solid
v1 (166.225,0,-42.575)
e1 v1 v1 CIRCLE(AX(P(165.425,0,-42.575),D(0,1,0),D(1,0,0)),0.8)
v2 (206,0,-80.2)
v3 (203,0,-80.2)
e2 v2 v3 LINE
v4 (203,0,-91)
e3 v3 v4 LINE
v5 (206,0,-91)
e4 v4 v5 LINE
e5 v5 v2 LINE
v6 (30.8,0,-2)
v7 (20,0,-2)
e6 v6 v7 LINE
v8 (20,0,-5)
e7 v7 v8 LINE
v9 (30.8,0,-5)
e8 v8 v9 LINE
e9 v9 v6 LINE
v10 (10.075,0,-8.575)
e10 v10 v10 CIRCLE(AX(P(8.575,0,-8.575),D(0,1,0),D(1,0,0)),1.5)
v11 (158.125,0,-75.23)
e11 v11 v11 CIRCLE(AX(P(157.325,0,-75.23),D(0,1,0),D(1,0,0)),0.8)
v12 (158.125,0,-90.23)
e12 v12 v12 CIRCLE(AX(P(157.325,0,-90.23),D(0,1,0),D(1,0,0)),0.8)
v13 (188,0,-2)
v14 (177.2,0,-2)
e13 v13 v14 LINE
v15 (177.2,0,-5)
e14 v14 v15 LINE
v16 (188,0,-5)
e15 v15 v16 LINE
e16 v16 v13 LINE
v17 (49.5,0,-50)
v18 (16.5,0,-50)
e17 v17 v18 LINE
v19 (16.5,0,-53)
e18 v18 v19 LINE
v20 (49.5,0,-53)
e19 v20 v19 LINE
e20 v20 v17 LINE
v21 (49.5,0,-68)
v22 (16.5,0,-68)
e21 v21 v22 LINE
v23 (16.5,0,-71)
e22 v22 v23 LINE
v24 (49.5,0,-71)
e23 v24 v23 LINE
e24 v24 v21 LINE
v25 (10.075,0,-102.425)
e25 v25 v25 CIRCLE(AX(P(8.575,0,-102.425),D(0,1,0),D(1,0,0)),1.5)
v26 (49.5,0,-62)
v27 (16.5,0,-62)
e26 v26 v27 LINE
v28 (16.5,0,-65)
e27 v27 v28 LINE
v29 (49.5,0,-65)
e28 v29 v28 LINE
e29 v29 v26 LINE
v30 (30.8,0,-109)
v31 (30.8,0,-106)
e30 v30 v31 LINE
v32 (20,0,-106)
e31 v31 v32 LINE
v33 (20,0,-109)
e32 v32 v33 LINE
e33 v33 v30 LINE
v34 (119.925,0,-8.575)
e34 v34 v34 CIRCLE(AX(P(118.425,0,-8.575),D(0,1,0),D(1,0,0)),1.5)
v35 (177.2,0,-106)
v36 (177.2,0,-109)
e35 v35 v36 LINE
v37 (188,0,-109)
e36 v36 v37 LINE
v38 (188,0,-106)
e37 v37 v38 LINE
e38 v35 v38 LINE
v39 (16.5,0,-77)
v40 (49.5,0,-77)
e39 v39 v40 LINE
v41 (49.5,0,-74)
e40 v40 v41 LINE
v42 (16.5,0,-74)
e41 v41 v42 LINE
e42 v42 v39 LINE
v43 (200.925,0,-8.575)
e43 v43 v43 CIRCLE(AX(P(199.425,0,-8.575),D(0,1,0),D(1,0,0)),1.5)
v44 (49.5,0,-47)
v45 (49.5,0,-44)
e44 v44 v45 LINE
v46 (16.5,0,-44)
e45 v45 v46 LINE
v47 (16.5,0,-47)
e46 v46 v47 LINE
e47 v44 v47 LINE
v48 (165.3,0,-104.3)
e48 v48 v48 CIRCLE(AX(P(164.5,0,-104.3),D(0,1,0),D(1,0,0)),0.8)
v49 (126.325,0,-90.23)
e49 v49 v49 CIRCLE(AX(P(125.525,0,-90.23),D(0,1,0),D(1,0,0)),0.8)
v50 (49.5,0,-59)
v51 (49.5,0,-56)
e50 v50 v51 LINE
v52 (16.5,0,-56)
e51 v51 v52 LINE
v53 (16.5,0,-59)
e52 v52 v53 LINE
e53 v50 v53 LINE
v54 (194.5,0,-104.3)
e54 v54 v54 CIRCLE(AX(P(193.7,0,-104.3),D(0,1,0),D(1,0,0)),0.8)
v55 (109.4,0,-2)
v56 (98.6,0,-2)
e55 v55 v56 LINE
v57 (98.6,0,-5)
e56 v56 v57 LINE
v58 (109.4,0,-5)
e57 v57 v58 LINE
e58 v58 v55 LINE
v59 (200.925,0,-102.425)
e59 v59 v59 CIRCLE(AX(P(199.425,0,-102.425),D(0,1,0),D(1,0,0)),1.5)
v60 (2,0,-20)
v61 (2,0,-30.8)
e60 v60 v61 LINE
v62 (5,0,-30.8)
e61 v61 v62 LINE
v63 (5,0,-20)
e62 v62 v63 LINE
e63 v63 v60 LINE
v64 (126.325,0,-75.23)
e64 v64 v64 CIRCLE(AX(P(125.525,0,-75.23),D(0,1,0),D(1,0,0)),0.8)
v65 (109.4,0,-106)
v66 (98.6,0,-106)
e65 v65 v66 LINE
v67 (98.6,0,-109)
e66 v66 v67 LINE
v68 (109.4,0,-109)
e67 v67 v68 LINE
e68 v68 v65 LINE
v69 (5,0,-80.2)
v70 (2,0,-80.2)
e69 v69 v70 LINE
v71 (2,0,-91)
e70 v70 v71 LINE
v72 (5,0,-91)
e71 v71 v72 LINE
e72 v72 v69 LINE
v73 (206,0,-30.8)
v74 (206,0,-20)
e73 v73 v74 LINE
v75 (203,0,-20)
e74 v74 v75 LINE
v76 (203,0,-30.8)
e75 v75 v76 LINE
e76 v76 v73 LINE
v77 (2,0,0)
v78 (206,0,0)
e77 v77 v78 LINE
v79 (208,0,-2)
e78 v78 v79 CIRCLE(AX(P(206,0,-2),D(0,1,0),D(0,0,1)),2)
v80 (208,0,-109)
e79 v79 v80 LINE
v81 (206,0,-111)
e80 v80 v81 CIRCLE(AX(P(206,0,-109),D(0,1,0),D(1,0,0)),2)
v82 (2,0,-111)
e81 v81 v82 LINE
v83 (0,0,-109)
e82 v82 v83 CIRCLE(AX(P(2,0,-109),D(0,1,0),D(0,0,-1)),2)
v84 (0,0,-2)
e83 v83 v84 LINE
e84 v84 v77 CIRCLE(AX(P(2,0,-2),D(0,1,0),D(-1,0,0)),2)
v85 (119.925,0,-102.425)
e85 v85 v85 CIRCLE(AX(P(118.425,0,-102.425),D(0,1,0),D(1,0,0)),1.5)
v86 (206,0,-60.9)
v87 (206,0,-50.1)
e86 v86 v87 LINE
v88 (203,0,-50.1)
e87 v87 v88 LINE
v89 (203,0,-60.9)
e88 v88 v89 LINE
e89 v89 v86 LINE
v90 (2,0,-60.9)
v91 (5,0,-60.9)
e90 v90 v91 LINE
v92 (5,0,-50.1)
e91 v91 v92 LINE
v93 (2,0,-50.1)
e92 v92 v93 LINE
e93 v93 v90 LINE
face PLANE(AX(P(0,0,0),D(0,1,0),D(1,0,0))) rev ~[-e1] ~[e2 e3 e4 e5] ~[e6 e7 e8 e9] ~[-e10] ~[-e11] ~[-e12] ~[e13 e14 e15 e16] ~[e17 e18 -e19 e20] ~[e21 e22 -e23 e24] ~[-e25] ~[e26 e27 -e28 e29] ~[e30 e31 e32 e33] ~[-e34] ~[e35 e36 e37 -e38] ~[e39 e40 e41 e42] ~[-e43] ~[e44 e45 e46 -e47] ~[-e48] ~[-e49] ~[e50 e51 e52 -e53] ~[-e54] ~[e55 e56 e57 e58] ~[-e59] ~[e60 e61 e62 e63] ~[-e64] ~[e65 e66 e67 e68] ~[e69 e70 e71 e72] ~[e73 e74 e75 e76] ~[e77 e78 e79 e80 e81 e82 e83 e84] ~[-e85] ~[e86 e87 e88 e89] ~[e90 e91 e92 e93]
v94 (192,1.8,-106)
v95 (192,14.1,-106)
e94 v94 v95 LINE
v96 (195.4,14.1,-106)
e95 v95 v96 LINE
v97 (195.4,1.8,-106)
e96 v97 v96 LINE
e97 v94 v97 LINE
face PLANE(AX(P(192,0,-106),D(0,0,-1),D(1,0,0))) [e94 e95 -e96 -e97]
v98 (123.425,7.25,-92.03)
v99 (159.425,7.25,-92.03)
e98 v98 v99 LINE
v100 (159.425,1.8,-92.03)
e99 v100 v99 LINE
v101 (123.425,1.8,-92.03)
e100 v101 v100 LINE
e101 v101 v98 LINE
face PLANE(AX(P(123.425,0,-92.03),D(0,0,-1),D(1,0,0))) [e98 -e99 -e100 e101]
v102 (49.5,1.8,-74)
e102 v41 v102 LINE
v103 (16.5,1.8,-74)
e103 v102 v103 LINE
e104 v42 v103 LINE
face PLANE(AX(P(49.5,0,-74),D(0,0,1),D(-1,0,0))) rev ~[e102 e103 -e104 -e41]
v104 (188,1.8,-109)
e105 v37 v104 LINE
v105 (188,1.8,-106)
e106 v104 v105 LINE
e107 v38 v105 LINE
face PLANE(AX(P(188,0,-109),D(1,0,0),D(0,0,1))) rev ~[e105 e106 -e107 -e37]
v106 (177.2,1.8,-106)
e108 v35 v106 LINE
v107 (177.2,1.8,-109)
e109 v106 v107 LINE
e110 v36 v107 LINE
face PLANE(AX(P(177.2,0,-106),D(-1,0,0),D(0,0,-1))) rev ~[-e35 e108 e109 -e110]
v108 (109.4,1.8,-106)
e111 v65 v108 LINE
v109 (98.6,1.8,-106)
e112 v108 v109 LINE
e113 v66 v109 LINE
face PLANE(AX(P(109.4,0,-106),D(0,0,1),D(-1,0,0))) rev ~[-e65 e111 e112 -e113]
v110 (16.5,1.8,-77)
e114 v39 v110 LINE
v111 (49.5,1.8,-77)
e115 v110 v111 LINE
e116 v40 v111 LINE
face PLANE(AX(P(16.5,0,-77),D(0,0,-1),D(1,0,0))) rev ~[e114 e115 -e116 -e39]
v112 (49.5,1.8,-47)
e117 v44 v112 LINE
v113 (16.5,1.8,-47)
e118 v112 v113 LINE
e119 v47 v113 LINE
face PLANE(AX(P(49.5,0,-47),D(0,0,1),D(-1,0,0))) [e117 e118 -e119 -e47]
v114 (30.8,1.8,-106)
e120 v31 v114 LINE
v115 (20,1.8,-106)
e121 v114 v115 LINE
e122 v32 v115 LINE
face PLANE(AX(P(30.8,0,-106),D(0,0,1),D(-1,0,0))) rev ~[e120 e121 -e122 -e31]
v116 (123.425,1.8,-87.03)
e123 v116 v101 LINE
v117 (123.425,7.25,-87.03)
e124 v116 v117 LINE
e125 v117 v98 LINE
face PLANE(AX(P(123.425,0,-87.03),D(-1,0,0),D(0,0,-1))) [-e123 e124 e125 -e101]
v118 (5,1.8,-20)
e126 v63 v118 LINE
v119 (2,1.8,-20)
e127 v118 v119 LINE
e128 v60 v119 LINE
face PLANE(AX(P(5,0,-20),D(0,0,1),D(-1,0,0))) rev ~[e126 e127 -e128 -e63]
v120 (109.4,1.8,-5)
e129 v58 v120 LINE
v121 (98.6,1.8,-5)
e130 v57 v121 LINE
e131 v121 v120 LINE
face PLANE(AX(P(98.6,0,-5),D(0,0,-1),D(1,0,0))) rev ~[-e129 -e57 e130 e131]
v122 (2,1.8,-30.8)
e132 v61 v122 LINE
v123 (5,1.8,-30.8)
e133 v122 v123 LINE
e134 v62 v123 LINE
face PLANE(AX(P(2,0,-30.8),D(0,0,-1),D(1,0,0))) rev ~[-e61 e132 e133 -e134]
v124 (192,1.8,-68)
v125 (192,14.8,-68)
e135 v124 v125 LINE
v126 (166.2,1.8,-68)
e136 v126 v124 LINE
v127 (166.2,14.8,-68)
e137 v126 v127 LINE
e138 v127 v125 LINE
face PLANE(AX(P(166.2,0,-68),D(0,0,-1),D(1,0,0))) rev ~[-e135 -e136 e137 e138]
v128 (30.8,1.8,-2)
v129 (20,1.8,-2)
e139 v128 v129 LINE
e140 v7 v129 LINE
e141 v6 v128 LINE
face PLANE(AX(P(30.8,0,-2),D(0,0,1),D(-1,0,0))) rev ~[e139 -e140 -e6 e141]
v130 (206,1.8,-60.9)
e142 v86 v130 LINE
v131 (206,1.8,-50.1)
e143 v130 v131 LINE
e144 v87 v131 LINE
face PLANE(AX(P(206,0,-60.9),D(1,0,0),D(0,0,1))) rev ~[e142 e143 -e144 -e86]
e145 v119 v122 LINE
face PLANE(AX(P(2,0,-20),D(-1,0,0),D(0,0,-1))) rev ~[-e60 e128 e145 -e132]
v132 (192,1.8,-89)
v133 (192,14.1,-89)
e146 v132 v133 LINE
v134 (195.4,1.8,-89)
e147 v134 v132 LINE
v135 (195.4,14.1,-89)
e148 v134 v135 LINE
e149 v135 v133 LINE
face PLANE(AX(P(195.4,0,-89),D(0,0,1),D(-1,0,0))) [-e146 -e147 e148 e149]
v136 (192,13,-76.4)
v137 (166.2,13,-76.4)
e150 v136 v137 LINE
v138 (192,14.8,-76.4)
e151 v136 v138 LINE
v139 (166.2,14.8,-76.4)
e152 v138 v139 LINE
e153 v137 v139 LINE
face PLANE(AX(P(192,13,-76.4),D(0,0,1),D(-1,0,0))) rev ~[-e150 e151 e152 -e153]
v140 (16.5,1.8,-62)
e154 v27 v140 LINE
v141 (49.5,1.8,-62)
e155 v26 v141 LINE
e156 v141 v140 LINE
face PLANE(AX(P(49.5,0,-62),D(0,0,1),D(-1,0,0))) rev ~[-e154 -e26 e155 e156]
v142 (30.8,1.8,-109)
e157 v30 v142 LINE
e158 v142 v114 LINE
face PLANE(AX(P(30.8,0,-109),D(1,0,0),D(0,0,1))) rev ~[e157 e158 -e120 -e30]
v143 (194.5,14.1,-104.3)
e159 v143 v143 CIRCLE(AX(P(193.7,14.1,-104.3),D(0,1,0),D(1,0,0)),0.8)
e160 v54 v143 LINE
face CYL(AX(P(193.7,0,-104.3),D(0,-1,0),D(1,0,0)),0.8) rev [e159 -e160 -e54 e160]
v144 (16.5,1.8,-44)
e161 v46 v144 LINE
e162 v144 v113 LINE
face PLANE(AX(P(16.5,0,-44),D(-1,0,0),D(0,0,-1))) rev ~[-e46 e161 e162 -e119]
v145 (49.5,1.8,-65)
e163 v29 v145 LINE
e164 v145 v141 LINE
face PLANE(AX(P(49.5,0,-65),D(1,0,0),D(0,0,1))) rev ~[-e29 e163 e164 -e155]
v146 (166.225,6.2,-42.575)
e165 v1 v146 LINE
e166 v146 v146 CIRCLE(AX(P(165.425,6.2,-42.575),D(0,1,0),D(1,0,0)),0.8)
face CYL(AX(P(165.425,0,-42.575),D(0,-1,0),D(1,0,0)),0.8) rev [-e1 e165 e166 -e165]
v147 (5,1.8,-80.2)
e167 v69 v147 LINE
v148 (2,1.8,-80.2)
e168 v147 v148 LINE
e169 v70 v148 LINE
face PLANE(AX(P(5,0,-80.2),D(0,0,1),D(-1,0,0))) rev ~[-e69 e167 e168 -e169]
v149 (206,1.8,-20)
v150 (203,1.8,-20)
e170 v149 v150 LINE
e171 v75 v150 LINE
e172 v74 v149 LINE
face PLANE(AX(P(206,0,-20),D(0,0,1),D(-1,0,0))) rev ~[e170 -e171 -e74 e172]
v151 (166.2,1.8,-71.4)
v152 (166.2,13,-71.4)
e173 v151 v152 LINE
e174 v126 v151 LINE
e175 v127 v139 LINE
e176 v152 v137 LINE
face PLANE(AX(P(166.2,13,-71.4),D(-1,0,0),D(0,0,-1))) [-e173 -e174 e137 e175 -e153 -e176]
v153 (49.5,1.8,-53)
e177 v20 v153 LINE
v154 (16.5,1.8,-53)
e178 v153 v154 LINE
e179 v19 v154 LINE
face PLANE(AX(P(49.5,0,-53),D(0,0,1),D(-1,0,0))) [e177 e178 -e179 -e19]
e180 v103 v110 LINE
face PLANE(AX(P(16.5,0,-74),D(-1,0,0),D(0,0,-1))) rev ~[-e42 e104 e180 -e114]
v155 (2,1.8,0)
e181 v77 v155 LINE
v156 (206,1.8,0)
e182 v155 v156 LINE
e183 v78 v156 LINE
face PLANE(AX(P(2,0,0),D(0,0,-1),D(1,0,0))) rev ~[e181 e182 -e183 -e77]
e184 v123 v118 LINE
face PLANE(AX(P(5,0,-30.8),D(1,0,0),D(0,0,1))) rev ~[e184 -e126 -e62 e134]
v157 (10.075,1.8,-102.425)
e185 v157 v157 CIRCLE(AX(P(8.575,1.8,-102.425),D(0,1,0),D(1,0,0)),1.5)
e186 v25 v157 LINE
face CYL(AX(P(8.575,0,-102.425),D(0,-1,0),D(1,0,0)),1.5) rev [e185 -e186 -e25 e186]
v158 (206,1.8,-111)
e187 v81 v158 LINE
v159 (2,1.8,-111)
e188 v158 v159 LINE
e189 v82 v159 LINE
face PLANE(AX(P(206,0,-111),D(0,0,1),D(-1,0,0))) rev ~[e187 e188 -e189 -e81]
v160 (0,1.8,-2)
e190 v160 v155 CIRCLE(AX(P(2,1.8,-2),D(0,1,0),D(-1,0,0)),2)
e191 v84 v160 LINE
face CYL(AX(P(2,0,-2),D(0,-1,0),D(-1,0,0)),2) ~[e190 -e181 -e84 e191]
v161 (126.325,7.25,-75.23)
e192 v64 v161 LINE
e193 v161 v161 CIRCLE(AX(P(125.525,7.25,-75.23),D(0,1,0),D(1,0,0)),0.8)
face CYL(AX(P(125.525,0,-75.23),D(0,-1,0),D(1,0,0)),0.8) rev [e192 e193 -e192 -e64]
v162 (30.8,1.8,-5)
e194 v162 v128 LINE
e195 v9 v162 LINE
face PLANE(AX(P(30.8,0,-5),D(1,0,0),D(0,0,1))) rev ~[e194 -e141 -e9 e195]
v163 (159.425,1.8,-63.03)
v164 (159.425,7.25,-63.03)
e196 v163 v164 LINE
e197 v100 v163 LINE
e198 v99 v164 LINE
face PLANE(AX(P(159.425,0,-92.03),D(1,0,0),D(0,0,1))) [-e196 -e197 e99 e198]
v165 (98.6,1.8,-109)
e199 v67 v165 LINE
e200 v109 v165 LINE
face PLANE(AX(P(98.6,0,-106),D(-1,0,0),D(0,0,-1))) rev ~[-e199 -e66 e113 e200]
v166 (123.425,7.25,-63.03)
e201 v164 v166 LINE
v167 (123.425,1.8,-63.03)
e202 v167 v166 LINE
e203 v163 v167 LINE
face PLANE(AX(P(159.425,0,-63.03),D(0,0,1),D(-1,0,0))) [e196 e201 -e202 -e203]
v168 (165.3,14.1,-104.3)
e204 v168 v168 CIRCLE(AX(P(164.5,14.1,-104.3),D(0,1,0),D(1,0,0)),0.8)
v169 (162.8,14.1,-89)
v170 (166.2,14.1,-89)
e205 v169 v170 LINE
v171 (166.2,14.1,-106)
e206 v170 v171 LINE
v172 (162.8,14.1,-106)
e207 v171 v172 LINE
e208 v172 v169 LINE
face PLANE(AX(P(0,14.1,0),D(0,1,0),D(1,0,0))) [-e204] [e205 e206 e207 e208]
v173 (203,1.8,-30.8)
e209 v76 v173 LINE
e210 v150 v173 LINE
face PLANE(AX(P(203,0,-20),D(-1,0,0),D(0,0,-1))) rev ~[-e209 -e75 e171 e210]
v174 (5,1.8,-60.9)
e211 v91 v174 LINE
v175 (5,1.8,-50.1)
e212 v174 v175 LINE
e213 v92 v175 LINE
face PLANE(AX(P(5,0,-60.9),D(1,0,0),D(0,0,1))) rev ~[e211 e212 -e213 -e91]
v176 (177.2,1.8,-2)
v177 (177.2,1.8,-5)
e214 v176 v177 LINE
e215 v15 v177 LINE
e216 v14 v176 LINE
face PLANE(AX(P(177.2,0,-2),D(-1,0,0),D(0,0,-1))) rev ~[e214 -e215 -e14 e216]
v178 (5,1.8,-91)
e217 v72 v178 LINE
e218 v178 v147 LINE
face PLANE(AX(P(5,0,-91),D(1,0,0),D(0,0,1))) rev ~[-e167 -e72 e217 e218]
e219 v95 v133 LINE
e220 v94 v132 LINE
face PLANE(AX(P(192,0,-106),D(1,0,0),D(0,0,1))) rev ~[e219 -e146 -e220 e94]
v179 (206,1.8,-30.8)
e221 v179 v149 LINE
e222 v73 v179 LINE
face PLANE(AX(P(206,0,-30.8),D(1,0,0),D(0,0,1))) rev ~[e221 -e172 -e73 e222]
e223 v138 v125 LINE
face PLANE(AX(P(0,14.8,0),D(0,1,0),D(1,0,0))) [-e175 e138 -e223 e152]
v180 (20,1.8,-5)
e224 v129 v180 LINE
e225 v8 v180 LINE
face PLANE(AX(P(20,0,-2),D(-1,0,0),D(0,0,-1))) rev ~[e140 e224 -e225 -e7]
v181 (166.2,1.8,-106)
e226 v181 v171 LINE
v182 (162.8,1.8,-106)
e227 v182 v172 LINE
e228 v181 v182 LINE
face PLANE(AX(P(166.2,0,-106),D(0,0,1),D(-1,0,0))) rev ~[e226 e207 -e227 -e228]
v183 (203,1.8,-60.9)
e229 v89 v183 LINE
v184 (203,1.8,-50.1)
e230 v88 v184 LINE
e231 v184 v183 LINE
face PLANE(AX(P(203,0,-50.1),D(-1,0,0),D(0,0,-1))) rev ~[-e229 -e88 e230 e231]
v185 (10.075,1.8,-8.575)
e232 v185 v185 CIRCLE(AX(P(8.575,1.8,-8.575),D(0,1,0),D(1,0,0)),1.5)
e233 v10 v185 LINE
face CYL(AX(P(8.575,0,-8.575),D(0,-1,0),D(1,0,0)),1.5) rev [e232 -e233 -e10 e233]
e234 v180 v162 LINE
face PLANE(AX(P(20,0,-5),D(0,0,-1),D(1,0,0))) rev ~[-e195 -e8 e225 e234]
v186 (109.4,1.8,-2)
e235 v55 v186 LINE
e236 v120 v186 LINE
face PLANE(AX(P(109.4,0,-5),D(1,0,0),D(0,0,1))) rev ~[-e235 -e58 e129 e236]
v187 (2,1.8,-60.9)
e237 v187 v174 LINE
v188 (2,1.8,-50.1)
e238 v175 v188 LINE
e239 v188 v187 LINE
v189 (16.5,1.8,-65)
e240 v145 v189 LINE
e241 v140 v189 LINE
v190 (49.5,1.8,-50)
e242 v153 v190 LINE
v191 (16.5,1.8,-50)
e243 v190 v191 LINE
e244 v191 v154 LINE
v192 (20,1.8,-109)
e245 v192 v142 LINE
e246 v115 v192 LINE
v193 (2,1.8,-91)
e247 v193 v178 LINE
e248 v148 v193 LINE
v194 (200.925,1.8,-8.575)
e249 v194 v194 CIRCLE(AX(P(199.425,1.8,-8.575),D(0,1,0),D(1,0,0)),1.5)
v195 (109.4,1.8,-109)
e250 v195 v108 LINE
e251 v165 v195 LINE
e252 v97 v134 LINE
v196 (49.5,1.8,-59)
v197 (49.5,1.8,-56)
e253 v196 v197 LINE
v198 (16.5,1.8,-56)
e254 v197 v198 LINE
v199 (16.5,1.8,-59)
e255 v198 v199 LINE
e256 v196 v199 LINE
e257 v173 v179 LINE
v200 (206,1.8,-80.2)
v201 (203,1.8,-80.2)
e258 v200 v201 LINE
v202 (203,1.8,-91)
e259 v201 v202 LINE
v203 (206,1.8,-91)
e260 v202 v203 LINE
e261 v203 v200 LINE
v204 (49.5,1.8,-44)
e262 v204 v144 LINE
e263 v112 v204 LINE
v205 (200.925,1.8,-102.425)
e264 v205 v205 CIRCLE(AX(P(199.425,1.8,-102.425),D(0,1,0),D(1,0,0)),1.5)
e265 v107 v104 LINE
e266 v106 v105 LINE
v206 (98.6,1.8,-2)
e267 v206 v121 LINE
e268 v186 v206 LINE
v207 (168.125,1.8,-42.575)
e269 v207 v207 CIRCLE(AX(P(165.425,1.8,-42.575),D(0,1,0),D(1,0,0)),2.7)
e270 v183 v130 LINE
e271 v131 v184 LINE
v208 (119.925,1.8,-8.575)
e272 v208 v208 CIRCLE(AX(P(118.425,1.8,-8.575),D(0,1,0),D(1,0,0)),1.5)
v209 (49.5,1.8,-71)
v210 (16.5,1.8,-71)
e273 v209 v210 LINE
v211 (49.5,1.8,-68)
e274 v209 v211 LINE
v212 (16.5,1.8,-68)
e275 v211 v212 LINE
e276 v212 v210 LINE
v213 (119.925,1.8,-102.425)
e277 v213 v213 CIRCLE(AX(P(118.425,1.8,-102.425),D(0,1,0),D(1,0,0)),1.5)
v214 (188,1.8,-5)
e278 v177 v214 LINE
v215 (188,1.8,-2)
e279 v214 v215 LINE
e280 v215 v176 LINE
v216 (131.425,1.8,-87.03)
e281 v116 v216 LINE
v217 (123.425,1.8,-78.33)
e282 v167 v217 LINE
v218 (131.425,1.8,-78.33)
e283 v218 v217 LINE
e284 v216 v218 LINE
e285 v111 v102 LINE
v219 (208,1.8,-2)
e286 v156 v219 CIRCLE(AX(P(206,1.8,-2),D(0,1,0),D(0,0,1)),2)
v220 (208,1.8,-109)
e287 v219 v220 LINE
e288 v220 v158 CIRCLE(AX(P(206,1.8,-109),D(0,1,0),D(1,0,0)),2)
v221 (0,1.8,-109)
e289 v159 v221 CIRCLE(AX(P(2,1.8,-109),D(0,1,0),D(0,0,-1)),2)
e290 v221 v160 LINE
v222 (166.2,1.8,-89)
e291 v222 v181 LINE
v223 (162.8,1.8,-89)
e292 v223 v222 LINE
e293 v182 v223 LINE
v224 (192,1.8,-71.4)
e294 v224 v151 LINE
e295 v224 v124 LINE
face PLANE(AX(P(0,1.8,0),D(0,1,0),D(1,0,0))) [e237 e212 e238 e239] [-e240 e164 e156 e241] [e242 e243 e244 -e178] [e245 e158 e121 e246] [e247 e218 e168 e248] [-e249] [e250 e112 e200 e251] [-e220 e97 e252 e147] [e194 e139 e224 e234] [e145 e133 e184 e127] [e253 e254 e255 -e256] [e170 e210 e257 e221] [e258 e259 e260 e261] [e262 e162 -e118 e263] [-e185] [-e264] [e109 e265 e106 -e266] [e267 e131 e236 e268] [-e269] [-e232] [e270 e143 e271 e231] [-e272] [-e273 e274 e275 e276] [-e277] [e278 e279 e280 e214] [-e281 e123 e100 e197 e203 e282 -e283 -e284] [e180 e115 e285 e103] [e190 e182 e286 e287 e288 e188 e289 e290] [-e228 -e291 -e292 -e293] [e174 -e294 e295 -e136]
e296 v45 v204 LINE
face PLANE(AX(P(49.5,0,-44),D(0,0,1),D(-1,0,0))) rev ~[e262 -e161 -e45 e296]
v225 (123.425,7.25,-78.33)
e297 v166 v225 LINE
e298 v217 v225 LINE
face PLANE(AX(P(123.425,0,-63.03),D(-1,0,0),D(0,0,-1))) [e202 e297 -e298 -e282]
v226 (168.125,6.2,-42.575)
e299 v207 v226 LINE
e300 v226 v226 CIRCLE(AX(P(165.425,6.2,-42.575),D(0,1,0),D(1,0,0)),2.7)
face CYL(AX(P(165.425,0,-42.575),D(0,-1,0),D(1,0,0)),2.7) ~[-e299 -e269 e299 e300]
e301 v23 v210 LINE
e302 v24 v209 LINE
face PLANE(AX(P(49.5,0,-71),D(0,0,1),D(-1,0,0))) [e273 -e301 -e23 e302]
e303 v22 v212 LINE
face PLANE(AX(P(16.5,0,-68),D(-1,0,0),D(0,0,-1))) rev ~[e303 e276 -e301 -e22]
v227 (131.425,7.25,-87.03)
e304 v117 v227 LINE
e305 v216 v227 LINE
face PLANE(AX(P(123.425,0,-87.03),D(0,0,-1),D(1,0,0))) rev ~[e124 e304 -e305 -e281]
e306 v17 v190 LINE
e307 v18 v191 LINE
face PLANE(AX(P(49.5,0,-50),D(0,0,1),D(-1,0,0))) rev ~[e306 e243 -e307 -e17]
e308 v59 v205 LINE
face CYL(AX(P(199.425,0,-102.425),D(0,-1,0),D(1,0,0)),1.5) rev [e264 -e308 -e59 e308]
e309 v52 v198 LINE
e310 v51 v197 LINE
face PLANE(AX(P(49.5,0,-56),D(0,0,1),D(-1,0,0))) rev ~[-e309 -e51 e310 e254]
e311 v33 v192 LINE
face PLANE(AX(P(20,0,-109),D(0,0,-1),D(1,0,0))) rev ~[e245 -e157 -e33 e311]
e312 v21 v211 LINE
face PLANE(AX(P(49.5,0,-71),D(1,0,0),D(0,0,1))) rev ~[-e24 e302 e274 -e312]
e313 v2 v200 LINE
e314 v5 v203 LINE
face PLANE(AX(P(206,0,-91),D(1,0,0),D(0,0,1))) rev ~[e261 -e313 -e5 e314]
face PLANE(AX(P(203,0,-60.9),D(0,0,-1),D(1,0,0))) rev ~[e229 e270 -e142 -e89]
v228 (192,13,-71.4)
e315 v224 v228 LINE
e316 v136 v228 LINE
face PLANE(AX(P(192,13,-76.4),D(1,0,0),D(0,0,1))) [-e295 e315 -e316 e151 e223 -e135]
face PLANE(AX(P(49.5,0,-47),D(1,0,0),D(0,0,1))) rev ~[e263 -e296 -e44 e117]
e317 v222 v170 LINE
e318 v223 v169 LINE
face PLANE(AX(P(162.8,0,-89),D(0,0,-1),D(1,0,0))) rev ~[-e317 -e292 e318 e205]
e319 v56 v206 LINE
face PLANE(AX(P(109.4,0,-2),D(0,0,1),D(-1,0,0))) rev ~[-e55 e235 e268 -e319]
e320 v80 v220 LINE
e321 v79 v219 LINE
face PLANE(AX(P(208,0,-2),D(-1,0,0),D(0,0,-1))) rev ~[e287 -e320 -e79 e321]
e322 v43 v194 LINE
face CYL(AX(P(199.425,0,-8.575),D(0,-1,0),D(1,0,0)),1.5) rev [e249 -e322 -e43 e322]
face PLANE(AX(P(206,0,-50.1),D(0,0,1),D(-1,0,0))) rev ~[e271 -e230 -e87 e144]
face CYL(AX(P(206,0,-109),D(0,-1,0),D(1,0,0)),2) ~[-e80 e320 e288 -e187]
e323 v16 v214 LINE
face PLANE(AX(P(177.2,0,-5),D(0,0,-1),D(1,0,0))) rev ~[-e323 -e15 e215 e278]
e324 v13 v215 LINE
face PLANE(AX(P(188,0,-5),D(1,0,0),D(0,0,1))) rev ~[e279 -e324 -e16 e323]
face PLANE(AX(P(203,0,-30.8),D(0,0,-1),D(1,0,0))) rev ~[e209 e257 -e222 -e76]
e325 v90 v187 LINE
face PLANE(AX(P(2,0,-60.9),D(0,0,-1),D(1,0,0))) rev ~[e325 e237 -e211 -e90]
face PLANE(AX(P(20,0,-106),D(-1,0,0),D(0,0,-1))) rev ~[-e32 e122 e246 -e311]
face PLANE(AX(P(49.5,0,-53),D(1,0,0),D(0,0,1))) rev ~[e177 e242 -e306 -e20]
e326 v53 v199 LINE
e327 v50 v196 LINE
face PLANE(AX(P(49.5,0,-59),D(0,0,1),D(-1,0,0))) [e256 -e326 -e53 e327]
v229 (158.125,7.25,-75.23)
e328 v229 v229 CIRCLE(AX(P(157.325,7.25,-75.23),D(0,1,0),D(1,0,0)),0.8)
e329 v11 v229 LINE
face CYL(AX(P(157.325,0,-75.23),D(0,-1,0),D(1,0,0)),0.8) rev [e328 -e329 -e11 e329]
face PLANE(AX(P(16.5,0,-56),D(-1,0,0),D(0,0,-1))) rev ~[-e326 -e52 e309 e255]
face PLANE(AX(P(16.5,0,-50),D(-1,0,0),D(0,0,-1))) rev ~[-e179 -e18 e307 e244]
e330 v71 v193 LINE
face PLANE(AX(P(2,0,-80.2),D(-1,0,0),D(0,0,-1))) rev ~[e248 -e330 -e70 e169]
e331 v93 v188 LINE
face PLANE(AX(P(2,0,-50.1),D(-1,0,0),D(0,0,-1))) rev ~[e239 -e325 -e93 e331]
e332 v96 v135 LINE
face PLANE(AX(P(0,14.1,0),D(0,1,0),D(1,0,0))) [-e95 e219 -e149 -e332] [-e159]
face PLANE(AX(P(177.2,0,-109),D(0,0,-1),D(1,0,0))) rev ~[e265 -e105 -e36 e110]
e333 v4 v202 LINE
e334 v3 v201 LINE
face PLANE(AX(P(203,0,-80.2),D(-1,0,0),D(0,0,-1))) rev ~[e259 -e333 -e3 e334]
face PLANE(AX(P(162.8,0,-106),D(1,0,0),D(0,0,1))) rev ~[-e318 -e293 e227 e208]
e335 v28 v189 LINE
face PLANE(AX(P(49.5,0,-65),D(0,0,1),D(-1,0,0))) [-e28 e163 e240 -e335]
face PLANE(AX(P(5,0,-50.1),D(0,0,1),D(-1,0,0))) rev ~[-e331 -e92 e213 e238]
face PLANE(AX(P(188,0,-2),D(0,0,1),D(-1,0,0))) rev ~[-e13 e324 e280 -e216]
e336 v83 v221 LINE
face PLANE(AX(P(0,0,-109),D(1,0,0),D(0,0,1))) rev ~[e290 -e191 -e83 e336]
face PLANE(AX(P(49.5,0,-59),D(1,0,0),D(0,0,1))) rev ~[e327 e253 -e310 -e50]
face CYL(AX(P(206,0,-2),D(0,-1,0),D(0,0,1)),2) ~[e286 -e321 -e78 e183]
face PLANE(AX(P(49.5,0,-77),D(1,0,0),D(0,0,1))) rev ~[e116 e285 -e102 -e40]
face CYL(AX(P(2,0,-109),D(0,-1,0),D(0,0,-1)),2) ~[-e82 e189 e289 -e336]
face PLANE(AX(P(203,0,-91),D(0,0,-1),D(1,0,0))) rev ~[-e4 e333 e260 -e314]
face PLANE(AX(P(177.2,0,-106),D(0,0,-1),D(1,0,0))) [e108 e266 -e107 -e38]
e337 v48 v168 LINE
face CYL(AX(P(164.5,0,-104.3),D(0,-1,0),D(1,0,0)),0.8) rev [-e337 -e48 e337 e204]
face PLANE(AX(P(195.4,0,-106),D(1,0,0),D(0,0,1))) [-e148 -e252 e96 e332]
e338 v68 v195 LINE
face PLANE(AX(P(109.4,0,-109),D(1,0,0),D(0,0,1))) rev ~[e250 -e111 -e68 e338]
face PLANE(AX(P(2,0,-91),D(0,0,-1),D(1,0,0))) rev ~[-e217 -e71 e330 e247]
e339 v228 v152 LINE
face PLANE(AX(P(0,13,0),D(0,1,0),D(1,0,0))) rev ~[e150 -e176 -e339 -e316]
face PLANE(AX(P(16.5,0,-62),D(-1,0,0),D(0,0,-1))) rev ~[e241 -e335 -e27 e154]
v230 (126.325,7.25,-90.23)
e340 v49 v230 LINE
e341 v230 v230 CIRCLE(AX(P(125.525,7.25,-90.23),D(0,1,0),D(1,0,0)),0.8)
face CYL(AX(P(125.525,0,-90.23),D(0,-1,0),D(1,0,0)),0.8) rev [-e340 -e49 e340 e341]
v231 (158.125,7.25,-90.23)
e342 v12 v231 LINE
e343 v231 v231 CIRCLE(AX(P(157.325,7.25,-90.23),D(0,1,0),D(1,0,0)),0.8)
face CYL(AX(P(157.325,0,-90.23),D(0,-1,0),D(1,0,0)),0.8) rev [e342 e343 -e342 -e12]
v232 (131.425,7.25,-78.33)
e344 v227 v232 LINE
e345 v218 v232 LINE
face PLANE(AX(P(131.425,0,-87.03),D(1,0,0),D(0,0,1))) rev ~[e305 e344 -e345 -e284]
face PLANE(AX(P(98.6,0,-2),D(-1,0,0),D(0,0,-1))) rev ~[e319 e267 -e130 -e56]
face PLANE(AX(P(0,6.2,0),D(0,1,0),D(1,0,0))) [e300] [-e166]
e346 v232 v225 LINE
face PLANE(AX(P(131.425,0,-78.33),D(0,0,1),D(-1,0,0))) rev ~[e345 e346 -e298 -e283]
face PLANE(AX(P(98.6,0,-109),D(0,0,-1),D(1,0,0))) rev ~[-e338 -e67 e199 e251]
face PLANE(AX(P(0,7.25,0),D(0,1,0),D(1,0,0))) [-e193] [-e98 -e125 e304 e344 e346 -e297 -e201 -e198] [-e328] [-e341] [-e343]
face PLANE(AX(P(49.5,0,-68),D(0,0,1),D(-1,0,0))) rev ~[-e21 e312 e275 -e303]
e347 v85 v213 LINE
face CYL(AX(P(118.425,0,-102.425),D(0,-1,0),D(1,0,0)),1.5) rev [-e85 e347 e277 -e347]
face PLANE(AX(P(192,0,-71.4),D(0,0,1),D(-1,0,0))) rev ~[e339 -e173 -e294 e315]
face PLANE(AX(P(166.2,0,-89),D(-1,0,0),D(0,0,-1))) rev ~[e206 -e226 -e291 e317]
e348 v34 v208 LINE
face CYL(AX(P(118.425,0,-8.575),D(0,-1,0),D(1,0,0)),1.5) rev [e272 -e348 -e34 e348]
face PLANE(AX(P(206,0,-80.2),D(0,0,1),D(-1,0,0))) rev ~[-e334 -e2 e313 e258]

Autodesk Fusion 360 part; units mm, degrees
sketch "Skizze1" plane through (0, 0, 0) normal (0, 1, 0) x (1, 0, 0)
  line L0 (2, 0) -> (206, 0)
  line L1 (208, 2) -> (208, 109)
  line L2 (206, 111) -> (2, 111)
  line L3 (0, 109) -> (0, 2)
  circle A0 centre (8.575, 8.575) radius 1.5
  circle A1 centre (8.575, 102.425) radius 1.5
  circle A2 centre (199.425, 102.425) radius 1.5
  circle A3 centre (199.425, 8.575) radius 1.5
  circle A4 centre (118.425, 8.575) radius 1.5
  circle A5 centre (118.425, 102.425) radius 1.5
  line L4 (123.425, 92.03) -> (159.425, 92.03)
  line L5 (159.425, 92.03) -> (159.425, 63.03)
  line L6 (159.425, 63.03) -> (123.425, 63.03)
  line L7 (123.425, 63.03) -> (123.425, 92.03)
  line L8 (123.425, 87.03) -> (131.425, 87.03)
  line L9 (131.425, 87.03) -> (131.425, 78.33)
  line L10 (131.425, 78.33) -> (123.425, 78.33)
  line L11 (123.425, 78.33) -> (123.425, 87.03)
  circle A6 centre (125.525, 90.23) radius 0.8
  circle A7 centre (157.325, 90.23) radius 0.8
  circle A8 centre (157.325, 75.23) radius 0.8
  circle A9 centre (125.525, 75.23) radius 0.8
  circle A10 centre (165.425, 42.575) radius 2.7
  circle A11 centre (165.425, 42.575) radius 0.8
  line L12 (166.2, 106) -> (192, 106)
  line L13 (192, 106) -> (192, 71.4)
  line L14 (192, 71.4) -> (166.2, 71.4)
  line L15 (166.2, 71.4) -> (166.2, 106)
  line L16 (166.2, 106) -> (162.8, 106)
  line L17 (162.8, 106) -> (162.8, 89)
  line L18 (162.8, 89) -> (166.2, 89)
  line L19 (166.2, 89) -> (166.2, 106)
  line L20 (192, 106) -> (195.4, 106)
  line L21 (195.4, 106) -> (195.4, 89)
  line L22 (195.4, 89) -> (192, 89)
  line L23 (192, 89) -> (192, 106)
  circle A12 centre (164.5, 104.3) radius 0.8
  circle A13 centre (193.7, 104.3) radius 0.8
  line L24 (166.2, 68) -> (192, 68)
  line L25 (192, 68) -> (192, 76.4)
  line L26 (192, 76.4) -> (166.2, 76.4)
  line L27 (166.2, 76.4) -> (166.2, 68)
  line L28 (166.2, 76.4) -> (192, 76.4)
  line L29 (192, 76.4) -> (192, 71.4)
  line L30 (192, 71.4) -> (166.2, 71.4)
  line L31 (166.2, 71.4) -> (166.2, 76.4)
  line L32 (16.5, 77) -> (49.5, 77)
  line L33 (49.5, 77) -> (49.5, 44)
  line L34 (49.5, 44) -> (16.5, 44)
  line L35 (16.5, 44) -> (16.5, 77)
  line L36 (16.5, 77) -> (49.5, 77)
  line L37 (49.5, 77) -> (49.5, 74)
  line L38 (49.5, 74) -> (16.5, 74)
  line L39 (16.5, 74) -> (16.5, 77)
  line L40 (16.5, 74) -> (49.5, 74)
  line L41 (49.5, 74) -> (49.5, 71)
  line L42 (49.5, 71) -> (16.5, 71)
  line L43 (16.5, 71) -> (16.5, 74)
  line L44 (16.5, 71) -> (49.5, 71)
  line L45 (49.5, 71) -> (49.5, 68)
  line L46 (49.5, 68) -> (16.5, 68)
  line L47 (16.5, 68) -> (16.5, 71)
  line L48 (16.5, 68) -> (49.5, 68)
  line L49 (49.5, 68) -> (49.5, 65)
  line L50 (49.5, 65) -> (16.5, 65)
  line L51 (16.5, 65) -> (16.5, 68)
  line L52 (16.5, 65) -> (49.5, 65)
  line L53 (49.5, 65) -> (49.5, 62)
  line L54 (49.5, 62) -> (16.5, 62)
  line L55 (16.5, 62) -> (16.5, 65)
  line L56 (16.5, 62) -> (49.5, 62)
  line L57 (49.5, 62) -> (49.5, 59)
  line L58 (49.5, 59) -> (16.5, 59)
  line L59 (16.5, 59) -> (16.5, 62)
  line L60 (16.5, 59) -> (49.5, 59)
  line L61 (49.5, 59) -> (49.5, 56)
  line L62 (49.5, 56) -> (16.5, 56)
  line L63 (16.5, 56) -> (16.5, 59)
  line L64 (16.5, 56) -> (49.5, 56)
  line L65 (49.5, 56) -> (49.5, 53)
  line L66 (49.5, 53) -> (16.5, 53)
  line L67 (16.5, 53) -> (16.5, 56)
  line L68 (16.5, 53) -> (49.5, 53)
  line L69 (49.5, 53) -> (49.5, 50)
  line L70 (49.5, 50) -> (16.5, 50)
  line L71 (16.5, 50) -> (16.5, 53)
  line L72 (16.5, 50) -> (49.5, 50)
  line L73 (49.5, 50) -> (49.5, 47)
  line L74 (49.5, 47) -> (16.5, 47)
  line L75 (16.5, 47) -> (16.5, 50)
  line L76 (16.5, 47) -> (49.5, 47)
  line L77 (49.5, 47) -> (49.5, 44)
  line L78 (49.5, 44) -> (16.5, 44)
  line L79 (16.5, 44) -> (16.5, 47)
  line L80 (20, 109) -> (30.8, 109)
  line L81 (30.8, 109) -> (30.8, 106)
  line L82 (30.8, 106) -> (20, 106)
  line L83 (20, 106) -> (20, 109)
  line L84 (2, 91) -> (5, 91)
  line L85 (5, 91) -> (5, 80.2)
  line L86 (5, 80.2) -> (2, 80.2)
  line L87 (2, 80.2) -> (2, 91)
  line L88 (2, 30.8) -> (5, 30.8)
  line L89 (5, 30.8) -> (5, 20)
  line L90 (5, 20) -> (2, 20)
  line L91 (2, 20) -> (2, 30.8)
  line L92 (20, 5) -> (30.8, 5)
  line L93 (30.8, 5) -> (30.8, 2)
  line L94 (30.8, 2) -> (20, 2)
  line L95 (20, 2) -> (20, 5)
  line L96 (177.2, 5) -> (188, 5)
  line L97 (188, 5) -> (188, 2)
  line L98 (188, 2) -> (177.2, 2)
  line L99 (177.2, 2) -> (177.2, 5)
  line L100 (203, 30.8) -> (206, 30.8)
  line L101 (206, 30.8) -> (206, 20)
  line L102 (206, 20) -> (203, 20)
  line L103 (203, 20) -> (203, 30.8)
  line L104 (177.2, 109) -> (188, 109)
  line L105 (188, 109) -> (188, 106)
  line L106 (188, 106) -> (177.2, 106)
  line L107 (177.2, 106) -> (177.2, 109)
  line L108 (203, 91) -> (206, 91)
  line L109 (206, 91) -> (206, 80.2)
  line L110 (206, 80.2) -> (203, 80.2)
  line L111 (203, 80.2) -> (203, 91)
  line L112 (98.6, 5) -> (109.4, 5)
  line L113 (109.4, 5) -> (109.4, 2)
  line L114 (109.4, 2) -> (98.6, 2)
  line L115 (98.6, 2) -> (98.6, 5)
  line L116 (98.6, 109) -> (109.4, 109)
  line L117 (109.4, 109) -> (109.4, 106)
  line L118 (109.4, 106) -> (98.6, 106)
  line L119 (98.6, 106) -> (98.6, 109)
  line L120 (203, 60.9) -> (206, 60.9)
  line L121 (206, 60.9) -> (206, 50.1)
  line L122 (206, 50.1) -> (203, 50.1)
  line L123 (203, 50.1) -> (203, 60.9)
  line L124 (2, 60.9) -> (5, 60.9)
  line L125 (5, 60.9) -> (5, 50.1)
  line L126 (5, 50.1) -> (2, 50.1)
  line L127 (2, 50.1) -> (2, 60.9)
  arc A14 (2, 111) -> (0, 109) centre (2, 109) ccw
  arc A15 (0, 2) -> (2, 0) centre (2, 2) ccw
  arc A16 (206, 0) -> (208, 2) centre (206, 2) ccw
  arc A17 (208, 109) -> (206, 111) centre (206, 109) ccw
  point P0 (208, 0)
  point P1 (0, 111)
  dimension "d1" = 208
  dimension "d2" = 111
  dimension "d3" = 3
  dimension "d4" = 8.575
  dimension "d5" = 8.575
  dimension "d6" = 3
  dimension "d7" = 8.575
  dimension "d8" = 8.575
  dimension "d9" = 3
  dimension "d10" = 8.575
  dimension "d11" = 8.575
  dimension "d12" = 3
  dimension "d13" = 8.575
  dimension "d14" = 8.575
  dimension "d15" = 3
  dimension "d16" = 8.575
  dimension "d17" = 109.85
  dimension "d18" = 3
  dimension "d19" = 8.575
  dimension "d20" = 109.85
  dimension "d21" = 36
  dimension "d22" = 29
  dimension "d23" = 18.97
  dimension "d24" = 5
  dimension "d25" = 5
  dimension "d26" = 8.7
  dimension "d27" = 8
  dimension "d28" = 1.6
  dimension "d29" = 1.6
  dimension "d30" = 31.8
  dimension "d31" = 2.1
  dimension "d32" = 1.8
  dimension "d33" = 1.8
  dimension "d34" = 1.6
  dimension "d35" = 2.1
  dimension "d36" = 15
  dimension "d37" = 1.6
  dimension "d38" = 15
  dimension "d39" = 2.1
  dimension "d40" = 5.4
  dimension "d41" = 34
  dimension "d42" = 34
  dimension "d43" = 1.6
  dimension "d44" = 25.8
  dimension "d45" = 34.6
  dimension "d46" = 5
  dimension "d47" = 16
  dimension "d48" = 3.4
  dimension "d49" = 3.4
  dimension "d50" = 17
  dimension "d51" = 17
  dimension "d52" = 1.6
  dimension "d53" = 1.7
  dimension "d54" = 1.7
  dimension "d55" = 1.6
  dimension "d56" = 1.7
  dimension "d57" = 1.7
  dimension "d58" = 8.4
  dimension "d59" = 5
  dimension "d60" = 33
  dimension "d61" = 33
  dimension "d62" = 34
  dimension "d63" = 16.5
  dimension "d64" = 3
  dimension "d65" = 33
  dimension "d66" = 3
  dimension "d67" = 3
  dimension "d68" = 3
  dimension "d69" = 3
  dimension "d70" = 3
  dimension "d71" = 3
  dimension "d72" = 3
  dimension "d73" = 3
  dimension "d74" = 3
  dimension "d75" = 10.8
  dimension "d76" = 3
  dimension "d77" = 20
  dimension "d78" = 2
  dimension "d79" = 3
  dimension "d80" = 10.8
  dimension "d81" = 2
  dimension "d82" = 20
  dimension "d83" = 3
  dimension "d84" = 10.8
  dimension "d85" = 2
  dimension "d86" = 20
  dimension "d87" = 10.8
  dimension "d88" = 3
  dimension "d89" = 2
  dimension "d90" = 20
  dimension "d91" = 10.8
  dimension "d92" = 3
  dimension "d93" = 2
  dimension "d94" = 20
  dimension "d95" = 3
  dimension "d96" = 10.8
  dimension "d97" = 2
  dimension "d98" = 20
  dimension "d99" = 10.8
  dimension "d100" = 3
  dimension "d101" = 2
  dimension "d102" = 20
  dimension "d103" = 3
  dimension "d104" = 10.8
  dimension "d105" = 2
  dimension "d106" = 20
  dimension "d107" = 10.8
  dimension "d108" = 3
  dimension "d109" = 2
  dimension "d110" = 98.6
  dimension "d111" = 10.8
  dimension "d112" = 3
  dimension "d113" = 2
  dimension "d114" = 98.6
  dimension "d115" = 3
  dimension "d116" = 10.8
  dimension "d117" = 2
  dimension "d118" = 50.1
  dimension "d119" = 3
  dimension "d120" = 10.8
  dimension "d121" = 2
  dimension "d122" = 50.1
  dimension "d123" = 2
  dimension "d124" = 2
  dimension "d125" = 2
  dimension "d126" = 2
extrude "Extrusion1" add sketch "Skizze1" along normal blind 1.8 contours L0 L1 L2 L3 A14 A15 A16 A17 | L12 L13 L15 L19 L23 L26 L28 L106 | L33 L35 L38 L40 L41 L42 L43 L44 | L33 L35 L46 L48 L49 L50 L51 L52 | L33 L35 L54 L56 L57 L58 L59 L60 | L33 L35 L62 L64 L65 L66 L67 L68 | L33 L35 L70 L72 L73 L74 L75 L76
extrude "Extrusion2" add sketch "Skizze1" along normal blind 1.8 contours L7 L8 L9 L10 L11
extrude "Extrusion3" add sketch "Skizze1" along normal blind 7.25 contours L4 L5 L6 L7 L8 L9 L10
extrude "Extrusion4" add sketch "Skizze1" along normal blind 14.1 contours L15 L16 L17 L18 L19 | L13 L20 L21 L22 L23
extrude "Extrusion5" add sketch "Skizze1" along normal blind 6.2 contours A10
extrude "Extrusion6" add sketch "Skizze1" along normal blind 14.8 contours L14 L24 L25 L27 L30
extrude "Extrusion7" add sketch "Skizze1" along normal blind 1.8 from surface at 13 contours L13 L14 L15 L25 L26 L27 L28 L29 L30 L31
extrude "Extrusion8" add sketch "Skizze1" along normal blind 1.8 contours L13 L14 L15 L25 L26 L27 L28 L29 L30 L31
